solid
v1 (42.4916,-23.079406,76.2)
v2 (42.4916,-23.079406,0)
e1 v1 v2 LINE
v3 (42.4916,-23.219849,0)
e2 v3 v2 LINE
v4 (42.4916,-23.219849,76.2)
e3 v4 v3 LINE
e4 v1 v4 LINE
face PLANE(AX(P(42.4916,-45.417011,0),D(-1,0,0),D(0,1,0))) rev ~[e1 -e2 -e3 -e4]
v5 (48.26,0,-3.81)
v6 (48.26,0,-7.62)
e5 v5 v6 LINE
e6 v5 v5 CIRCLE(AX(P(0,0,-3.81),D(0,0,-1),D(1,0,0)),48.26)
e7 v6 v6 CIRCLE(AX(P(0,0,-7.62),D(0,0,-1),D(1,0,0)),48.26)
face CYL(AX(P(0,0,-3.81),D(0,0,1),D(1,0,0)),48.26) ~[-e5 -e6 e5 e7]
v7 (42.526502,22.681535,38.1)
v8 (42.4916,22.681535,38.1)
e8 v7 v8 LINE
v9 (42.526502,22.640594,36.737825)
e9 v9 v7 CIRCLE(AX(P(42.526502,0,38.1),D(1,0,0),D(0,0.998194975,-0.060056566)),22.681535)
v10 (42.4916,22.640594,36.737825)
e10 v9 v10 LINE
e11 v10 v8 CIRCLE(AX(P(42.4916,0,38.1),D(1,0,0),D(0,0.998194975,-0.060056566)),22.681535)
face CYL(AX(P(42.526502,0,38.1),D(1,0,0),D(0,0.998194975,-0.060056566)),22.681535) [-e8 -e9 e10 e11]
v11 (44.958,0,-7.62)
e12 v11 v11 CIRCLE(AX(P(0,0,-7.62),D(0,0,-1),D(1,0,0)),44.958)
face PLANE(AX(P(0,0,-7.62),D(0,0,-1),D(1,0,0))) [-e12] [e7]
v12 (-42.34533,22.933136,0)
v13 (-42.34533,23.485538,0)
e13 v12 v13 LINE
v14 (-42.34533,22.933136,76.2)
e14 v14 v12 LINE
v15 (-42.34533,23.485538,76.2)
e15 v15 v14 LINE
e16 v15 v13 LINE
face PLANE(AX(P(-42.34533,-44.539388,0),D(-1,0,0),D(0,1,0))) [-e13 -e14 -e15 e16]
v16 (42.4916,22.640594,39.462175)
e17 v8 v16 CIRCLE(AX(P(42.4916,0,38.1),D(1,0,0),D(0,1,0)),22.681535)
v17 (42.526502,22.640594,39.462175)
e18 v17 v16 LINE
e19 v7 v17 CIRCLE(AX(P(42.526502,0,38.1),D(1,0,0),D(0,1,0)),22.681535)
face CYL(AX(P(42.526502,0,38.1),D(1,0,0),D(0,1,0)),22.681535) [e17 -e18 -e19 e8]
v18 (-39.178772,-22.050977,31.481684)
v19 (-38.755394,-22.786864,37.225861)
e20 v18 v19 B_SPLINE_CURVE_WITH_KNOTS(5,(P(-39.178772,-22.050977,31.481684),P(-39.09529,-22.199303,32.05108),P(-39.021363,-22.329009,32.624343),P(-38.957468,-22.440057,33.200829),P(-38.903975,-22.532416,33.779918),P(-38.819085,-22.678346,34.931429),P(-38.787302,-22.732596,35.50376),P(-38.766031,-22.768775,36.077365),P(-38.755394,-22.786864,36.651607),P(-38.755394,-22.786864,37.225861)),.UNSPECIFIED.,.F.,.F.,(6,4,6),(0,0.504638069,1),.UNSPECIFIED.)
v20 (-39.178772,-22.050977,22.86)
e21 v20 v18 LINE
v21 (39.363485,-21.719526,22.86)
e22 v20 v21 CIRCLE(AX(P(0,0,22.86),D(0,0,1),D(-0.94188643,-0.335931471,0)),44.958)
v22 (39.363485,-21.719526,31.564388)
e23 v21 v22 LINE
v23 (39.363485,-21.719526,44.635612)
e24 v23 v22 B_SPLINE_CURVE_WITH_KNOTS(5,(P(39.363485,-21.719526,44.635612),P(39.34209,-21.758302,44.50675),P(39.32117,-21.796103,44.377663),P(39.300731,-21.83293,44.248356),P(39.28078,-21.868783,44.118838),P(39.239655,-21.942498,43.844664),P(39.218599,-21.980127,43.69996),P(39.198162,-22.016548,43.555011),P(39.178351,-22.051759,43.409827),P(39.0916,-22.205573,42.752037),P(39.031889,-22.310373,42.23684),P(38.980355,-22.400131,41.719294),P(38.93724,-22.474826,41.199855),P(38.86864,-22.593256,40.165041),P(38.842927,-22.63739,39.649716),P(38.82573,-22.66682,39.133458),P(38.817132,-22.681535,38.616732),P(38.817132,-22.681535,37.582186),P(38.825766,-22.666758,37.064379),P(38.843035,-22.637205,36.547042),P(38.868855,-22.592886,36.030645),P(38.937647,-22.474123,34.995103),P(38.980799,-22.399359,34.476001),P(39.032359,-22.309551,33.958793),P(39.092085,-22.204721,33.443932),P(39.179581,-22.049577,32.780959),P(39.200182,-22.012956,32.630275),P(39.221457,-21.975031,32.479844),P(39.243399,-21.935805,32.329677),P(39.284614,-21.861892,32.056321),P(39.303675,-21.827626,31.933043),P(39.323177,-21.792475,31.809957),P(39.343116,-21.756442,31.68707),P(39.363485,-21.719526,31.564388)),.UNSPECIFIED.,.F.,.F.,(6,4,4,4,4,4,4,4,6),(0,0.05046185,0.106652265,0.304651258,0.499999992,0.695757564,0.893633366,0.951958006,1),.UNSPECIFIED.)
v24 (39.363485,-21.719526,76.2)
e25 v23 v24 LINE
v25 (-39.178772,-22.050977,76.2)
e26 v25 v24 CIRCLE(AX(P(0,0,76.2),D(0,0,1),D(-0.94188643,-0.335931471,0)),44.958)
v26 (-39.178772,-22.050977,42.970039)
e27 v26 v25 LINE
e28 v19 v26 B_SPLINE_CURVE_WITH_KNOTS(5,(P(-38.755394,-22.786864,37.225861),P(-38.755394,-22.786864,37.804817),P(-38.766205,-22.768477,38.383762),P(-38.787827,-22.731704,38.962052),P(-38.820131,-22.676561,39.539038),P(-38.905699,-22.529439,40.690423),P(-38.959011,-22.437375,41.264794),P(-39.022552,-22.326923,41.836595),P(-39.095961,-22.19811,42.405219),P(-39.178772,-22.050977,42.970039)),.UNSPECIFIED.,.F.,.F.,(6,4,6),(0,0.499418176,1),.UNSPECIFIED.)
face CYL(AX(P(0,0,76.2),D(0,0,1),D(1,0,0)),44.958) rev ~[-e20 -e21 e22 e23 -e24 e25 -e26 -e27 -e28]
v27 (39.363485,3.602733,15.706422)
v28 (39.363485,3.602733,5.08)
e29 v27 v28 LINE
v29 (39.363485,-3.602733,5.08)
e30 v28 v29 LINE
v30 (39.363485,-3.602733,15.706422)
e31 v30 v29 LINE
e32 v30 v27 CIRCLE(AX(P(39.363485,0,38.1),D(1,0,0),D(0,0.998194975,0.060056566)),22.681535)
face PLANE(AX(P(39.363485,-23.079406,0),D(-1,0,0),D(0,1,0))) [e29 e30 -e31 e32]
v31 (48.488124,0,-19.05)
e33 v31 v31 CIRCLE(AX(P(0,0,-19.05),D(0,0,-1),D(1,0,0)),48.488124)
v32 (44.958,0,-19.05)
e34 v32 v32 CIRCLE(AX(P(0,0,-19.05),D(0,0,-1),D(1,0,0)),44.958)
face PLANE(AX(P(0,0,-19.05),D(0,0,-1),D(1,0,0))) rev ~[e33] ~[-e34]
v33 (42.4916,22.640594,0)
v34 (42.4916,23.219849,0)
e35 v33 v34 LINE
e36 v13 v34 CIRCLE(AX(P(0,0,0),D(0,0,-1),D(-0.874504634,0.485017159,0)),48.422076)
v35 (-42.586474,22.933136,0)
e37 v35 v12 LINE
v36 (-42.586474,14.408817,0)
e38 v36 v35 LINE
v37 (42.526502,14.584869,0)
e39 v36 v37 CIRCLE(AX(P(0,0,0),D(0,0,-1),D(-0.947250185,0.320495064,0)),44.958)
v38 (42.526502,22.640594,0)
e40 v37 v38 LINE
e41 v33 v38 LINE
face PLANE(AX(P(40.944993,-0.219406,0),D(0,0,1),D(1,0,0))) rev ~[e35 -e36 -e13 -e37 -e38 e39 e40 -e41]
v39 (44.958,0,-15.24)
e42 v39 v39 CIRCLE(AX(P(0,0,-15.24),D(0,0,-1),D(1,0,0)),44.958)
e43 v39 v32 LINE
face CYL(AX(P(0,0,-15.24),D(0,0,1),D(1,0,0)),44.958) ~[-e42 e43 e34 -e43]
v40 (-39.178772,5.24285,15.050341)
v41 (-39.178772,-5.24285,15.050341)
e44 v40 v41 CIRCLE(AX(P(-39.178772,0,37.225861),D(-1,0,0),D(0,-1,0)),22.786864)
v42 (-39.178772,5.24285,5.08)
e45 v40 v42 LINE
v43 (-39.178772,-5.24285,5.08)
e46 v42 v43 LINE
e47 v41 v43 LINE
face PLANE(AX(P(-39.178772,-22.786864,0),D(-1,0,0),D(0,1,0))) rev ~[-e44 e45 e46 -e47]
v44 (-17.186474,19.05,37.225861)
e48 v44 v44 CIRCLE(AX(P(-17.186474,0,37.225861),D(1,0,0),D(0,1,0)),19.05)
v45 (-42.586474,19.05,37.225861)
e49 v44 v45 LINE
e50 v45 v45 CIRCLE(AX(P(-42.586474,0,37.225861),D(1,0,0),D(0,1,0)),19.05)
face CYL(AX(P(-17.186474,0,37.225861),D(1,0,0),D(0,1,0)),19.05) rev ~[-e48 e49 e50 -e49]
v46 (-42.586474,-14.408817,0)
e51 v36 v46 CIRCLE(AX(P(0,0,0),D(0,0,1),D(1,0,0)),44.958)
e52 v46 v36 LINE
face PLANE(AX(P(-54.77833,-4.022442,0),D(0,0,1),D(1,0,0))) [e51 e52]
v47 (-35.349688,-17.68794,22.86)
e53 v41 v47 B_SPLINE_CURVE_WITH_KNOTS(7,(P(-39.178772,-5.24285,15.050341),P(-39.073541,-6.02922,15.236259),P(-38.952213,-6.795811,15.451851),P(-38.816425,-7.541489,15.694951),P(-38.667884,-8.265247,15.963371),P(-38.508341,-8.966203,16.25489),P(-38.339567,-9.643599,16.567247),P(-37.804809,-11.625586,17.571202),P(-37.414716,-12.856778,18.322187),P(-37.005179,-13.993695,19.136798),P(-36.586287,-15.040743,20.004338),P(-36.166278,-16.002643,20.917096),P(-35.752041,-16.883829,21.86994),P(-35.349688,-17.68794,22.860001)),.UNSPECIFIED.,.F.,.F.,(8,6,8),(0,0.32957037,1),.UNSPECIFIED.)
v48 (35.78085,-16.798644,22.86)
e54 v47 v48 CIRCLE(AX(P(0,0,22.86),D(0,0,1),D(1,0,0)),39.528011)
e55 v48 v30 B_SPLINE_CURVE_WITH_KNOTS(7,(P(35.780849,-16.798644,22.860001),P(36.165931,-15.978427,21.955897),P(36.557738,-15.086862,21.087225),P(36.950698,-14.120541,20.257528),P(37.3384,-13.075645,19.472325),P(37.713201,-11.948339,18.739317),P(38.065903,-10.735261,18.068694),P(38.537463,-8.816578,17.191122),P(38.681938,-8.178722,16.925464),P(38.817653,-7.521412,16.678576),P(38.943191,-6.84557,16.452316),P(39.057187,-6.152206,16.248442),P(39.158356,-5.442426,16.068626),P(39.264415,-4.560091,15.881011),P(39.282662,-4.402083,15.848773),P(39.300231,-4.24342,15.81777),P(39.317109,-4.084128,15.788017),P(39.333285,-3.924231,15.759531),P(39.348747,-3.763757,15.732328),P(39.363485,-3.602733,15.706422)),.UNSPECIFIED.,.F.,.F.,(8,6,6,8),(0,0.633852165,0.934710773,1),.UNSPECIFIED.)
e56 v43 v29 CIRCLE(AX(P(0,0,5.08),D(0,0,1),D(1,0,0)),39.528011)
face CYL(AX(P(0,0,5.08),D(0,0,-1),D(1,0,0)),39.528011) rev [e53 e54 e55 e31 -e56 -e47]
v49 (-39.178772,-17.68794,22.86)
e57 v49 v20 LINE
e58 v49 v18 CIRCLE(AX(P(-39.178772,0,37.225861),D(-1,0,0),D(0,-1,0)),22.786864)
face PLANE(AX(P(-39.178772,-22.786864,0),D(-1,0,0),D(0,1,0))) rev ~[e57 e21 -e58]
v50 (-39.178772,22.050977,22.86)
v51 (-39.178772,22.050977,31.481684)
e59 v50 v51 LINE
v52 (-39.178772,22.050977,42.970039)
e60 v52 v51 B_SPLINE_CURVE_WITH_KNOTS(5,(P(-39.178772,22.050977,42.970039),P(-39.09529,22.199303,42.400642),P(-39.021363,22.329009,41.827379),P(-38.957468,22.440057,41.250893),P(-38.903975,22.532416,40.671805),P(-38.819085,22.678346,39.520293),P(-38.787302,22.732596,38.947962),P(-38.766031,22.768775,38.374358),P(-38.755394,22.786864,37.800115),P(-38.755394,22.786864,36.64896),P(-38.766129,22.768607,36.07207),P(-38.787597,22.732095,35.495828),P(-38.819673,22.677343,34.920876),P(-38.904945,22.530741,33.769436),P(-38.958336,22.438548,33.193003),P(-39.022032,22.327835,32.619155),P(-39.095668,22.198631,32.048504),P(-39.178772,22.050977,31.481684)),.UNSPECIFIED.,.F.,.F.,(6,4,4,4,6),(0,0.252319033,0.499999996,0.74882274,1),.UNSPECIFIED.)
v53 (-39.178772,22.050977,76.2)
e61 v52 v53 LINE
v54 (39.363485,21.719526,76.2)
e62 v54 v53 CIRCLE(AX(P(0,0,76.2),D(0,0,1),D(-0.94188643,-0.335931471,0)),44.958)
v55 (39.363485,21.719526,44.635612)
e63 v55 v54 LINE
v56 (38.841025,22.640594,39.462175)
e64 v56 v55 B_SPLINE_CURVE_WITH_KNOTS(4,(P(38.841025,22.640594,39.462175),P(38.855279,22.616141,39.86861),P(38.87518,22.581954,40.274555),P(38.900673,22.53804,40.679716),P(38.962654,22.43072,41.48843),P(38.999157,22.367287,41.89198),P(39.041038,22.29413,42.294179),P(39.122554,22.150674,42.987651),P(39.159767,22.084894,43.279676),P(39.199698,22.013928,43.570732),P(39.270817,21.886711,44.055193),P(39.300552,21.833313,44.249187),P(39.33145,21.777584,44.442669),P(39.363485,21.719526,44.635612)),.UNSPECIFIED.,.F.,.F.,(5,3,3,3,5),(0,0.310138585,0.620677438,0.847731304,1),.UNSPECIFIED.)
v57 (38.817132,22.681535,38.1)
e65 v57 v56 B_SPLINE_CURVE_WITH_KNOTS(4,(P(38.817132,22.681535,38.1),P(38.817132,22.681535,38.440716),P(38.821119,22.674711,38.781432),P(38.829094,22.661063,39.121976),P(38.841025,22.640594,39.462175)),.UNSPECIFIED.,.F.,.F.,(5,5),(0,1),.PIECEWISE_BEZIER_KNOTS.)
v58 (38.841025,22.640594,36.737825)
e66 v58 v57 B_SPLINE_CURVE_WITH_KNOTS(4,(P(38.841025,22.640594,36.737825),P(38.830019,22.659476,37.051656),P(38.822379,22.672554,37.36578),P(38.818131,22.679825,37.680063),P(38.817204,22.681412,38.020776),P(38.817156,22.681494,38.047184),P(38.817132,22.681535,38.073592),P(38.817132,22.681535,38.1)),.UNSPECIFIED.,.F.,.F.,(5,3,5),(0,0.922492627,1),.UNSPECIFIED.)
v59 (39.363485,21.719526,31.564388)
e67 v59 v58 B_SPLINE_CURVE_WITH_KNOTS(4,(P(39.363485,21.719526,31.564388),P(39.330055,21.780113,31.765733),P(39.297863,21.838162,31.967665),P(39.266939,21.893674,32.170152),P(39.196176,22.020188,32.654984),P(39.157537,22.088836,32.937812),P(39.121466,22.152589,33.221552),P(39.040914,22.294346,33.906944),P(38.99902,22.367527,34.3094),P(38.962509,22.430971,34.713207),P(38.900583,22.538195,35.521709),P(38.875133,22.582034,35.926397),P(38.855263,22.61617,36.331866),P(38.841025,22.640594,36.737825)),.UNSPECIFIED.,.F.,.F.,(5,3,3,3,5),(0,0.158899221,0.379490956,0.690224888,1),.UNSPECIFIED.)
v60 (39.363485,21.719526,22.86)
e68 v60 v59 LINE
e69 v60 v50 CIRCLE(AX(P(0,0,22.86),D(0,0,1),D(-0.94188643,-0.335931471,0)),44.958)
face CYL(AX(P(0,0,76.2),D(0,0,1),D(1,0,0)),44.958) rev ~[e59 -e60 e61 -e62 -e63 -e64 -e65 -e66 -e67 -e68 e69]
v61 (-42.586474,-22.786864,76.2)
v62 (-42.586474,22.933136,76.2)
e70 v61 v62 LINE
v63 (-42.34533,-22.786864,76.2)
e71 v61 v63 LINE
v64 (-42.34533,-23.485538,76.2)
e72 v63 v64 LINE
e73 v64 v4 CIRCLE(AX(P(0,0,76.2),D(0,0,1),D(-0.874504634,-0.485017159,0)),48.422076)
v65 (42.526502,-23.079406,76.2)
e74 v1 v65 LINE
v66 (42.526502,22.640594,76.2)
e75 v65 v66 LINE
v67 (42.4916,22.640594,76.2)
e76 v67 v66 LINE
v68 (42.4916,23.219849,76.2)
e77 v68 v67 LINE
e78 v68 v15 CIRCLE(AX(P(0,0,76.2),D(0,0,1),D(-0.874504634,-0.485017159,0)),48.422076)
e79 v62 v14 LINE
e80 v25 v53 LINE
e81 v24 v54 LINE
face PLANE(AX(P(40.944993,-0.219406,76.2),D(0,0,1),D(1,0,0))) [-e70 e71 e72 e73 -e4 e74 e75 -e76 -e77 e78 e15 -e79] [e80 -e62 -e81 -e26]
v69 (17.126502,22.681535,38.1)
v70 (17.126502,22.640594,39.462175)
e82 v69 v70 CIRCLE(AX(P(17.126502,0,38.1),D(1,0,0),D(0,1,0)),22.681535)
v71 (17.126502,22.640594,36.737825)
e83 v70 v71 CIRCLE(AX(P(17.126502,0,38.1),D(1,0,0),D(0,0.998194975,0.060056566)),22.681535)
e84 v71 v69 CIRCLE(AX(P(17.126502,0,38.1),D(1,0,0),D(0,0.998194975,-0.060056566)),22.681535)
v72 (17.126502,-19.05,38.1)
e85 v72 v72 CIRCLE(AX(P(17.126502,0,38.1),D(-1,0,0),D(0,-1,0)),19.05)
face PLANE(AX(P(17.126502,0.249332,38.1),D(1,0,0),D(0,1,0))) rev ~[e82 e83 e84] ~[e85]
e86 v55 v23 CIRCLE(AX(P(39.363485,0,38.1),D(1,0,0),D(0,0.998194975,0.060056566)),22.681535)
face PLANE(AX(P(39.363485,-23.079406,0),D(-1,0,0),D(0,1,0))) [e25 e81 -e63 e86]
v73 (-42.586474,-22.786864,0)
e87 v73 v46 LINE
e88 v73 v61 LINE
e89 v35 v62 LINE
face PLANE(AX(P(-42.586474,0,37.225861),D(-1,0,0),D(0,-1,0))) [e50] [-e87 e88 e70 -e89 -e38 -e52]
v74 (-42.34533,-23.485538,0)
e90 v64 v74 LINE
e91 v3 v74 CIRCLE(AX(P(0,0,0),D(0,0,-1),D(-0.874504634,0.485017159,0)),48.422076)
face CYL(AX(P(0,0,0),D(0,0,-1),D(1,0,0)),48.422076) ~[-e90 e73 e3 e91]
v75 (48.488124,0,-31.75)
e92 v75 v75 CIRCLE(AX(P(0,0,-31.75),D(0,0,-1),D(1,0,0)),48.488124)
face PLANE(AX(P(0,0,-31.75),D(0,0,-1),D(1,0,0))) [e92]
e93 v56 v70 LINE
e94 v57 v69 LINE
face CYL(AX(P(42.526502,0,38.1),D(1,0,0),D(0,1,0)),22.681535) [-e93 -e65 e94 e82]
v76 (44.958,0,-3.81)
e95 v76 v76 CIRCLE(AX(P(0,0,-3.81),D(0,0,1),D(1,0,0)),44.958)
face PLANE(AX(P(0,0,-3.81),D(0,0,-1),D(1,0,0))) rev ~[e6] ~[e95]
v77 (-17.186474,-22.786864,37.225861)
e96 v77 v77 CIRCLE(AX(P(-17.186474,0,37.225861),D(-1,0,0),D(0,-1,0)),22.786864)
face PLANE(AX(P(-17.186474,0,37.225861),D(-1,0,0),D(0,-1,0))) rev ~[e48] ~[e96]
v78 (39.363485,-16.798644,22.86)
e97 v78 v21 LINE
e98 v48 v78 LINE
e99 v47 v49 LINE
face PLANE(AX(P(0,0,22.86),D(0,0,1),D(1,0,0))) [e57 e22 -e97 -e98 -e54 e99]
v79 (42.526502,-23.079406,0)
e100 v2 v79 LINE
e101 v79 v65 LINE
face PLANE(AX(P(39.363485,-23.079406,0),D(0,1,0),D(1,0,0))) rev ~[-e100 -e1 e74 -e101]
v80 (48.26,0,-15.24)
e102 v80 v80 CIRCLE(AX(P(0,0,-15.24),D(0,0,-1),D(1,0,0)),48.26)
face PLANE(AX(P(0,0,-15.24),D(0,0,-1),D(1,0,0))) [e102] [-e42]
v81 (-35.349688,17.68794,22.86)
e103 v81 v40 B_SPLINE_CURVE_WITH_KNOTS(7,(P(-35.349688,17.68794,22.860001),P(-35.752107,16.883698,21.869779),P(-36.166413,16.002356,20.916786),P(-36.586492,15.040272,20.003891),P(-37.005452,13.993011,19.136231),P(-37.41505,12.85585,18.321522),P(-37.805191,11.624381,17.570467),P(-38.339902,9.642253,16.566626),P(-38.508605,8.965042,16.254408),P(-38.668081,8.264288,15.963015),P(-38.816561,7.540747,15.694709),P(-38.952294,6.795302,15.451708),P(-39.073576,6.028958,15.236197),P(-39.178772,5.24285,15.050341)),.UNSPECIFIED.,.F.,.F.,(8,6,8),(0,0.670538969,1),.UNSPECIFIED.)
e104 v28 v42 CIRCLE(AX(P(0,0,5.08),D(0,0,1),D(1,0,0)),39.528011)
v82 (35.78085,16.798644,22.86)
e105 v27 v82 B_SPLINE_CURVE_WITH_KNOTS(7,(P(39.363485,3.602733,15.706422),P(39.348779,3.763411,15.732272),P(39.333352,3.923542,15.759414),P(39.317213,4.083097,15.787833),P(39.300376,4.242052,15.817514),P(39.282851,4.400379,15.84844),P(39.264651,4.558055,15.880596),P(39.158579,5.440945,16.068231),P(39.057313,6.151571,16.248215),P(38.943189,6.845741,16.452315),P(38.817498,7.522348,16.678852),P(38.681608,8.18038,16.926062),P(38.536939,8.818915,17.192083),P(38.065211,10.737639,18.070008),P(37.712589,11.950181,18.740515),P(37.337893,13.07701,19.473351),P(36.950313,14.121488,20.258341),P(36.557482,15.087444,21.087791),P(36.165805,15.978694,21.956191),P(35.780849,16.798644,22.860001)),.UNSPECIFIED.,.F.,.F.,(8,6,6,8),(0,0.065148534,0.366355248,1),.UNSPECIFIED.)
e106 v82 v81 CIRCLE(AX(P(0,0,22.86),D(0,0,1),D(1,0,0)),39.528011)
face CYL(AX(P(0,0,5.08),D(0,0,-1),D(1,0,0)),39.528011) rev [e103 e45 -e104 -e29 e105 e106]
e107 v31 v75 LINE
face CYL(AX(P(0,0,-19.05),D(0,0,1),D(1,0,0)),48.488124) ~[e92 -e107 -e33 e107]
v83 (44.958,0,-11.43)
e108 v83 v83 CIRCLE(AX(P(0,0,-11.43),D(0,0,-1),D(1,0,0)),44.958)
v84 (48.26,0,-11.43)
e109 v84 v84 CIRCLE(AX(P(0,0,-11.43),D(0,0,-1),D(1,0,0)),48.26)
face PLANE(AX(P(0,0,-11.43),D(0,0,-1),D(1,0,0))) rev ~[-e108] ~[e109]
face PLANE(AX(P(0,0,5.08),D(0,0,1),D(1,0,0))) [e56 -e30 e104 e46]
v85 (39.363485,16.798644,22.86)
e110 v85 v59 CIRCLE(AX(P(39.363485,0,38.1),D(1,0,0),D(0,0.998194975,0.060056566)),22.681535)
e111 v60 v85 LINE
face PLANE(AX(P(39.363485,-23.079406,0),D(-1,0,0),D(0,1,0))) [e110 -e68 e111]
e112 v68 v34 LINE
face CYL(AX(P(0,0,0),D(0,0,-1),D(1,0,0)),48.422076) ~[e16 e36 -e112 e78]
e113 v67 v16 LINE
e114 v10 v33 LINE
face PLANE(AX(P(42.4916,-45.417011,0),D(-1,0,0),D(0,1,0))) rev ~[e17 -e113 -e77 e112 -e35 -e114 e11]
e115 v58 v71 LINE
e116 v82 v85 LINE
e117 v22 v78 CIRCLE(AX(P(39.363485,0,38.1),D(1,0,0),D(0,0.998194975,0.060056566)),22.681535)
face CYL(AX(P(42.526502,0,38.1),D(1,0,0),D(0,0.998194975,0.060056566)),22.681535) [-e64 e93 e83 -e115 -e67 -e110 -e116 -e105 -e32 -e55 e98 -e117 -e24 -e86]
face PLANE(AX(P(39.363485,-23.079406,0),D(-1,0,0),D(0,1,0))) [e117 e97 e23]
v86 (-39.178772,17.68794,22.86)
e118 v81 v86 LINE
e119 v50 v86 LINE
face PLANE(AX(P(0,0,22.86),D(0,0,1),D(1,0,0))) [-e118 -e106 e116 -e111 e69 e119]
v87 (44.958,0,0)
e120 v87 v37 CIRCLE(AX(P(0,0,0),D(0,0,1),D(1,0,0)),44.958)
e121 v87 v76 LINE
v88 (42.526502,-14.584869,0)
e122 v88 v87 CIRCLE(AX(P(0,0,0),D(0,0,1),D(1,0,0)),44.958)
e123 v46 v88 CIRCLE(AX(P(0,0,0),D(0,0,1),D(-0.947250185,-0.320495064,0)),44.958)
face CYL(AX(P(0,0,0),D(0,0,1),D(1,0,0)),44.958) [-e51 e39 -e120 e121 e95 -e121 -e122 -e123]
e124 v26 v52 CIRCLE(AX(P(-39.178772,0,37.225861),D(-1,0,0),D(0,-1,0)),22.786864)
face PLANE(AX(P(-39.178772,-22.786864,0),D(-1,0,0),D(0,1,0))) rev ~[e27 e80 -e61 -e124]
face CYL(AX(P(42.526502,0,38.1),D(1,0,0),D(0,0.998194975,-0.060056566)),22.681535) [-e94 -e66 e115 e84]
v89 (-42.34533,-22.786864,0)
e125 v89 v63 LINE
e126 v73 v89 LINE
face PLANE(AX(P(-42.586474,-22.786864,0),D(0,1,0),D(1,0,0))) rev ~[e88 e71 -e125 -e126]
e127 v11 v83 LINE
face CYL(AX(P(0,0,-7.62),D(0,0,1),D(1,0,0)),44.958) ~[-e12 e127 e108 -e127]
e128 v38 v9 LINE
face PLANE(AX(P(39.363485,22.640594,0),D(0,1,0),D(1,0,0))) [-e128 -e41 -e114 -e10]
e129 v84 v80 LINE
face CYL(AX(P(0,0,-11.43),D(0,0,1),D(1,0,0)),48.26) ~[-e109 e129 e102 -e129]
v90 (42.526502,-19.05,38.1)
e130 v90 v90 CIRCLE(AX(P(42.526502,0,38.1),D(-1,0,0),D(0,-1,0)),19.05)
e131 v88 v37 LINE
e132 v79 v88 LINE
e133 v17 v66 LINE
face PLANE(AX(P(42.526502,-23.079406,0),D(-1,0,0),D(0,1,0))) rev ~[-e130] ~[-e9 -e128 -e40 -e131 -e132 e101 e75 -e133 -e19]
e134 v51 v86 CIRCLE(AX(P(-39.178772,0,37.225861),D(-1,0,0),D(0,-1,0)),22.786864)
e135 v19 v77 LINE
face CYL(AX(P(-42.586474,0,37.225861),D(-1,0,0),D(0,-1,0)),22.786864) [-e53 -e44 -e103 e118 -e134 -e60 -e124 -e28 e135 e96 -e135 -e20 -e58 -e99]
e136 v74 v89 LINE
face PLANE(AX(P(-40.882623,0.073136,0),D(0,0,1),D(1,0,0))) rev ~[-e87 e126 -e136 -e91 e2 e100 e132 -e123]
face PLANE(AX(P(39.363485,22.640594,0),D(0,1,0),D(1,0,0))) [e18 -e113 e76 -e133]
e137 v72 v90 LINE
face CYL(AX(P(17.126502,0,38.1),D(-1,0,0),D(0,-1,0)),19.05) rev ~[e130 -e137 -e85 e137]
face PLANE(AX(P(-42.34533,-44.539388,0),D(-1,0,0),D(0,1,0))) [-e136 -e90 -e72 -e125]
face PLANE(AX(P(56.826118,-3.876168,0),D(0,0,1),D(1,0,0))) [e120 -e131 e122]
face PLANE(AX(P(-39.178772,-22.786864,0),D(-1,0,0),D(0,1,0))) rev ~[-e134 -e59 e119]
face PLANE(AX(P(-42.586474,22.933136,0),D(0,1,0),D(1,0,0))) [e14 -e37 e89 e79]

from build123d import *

# Parameters (mm, degrees)
F0_R      = 48.4220762832
F1_DEPTH  = 76.2
F2_R      = 44.958
F3_DEPTH  = 71.12
F4_R      = 44.958
F5_DEPTH  = 3.81
F6_R      = 48.26
F7_DEPTH  = 3.81
F8_R      = 44.958
F9_DEPTH  = 3.81
F10_R     = 48.26
F11_DEPTH = 3.81
F12_R     = 44.958
F13_DEPTH = 3.81
F14_R     = 48.4881238819
F15_DEPTH = 12.7
F16_R     = 44.958
F16_R_2   = 39.5280108498
F17_DEPTH = 17.78
F18_W     = 24.8659998178
F18_H     = 81.0338929296
F19_DEPTH = 76.201
F20_W     = 28.6690369248
F20_H     = 83.0816850066
F21_DEPTH = 76.201
F22_W     = 3.4077020206
F22_H     = 45.72
F23_DEPTH = 76.2
F24_W     = 3.1630169219
F24_H     = 45.72
F25_DEPTH = 76.2
F26_R     = 22.7868641695
F27_DEPTH = 25.4
F28_R     = 19.05
F29_DEPTH = 25.4
F31_DEPTH = 25.4
F32_R     = 19.05
F33_DEPTH = 25.4


with BuildPart() as f1:
    # F0 (on Top) → F1 (new body)
    with BuildSketch(Plane.XY):
        Circle(F0_R)
    extrude(amount=F1_DEPTH)

    # F2 (on face) → F3 (cut)
    with BuildSketch(Plane.XY.offset(76.2)):
        Circle(F2_R)
    extrude(amount=-F3_DEPTH, mode=Mode.SUBTRACT)

    # F4 (on Top) → F5 (join)
    with BuildSketch(Plane.XY):
        Circle(F4_R)
    extrude(amount=-F5_DEPTH)

    # F6 (on face) → F7 (join)
    with BuildSketch(Plane(origin=(0, 0, -3.81), x_dir=(1, 0, 0), z_dir=(0, 0, -1))):
        Circle(F6_R)
    extrude(amount=F7_DEPTH)

    # F8 (on face) → F9 (join)
    with BuildSketch(Plane(origin=(0, 0, -7.62), x_dir=(1, 0, 0), z_dir=(0, 0, -1))):
        Circle(F8_R)
    extrude(amount=F9_DEPTH)

    # F10 (on face) → F11 (join)
    with BuildSketch(Plane(origin=(0, 0, -11.43), x_dir=(1, 0, 0), z_dir=(0, 0, -1))):
        Circle(F10_R)
    extrude(amount=F11_DEPTH)

    # F12 (on face) → F13 (join)
    with BuildSketch(Plane(origin=(0, 0, -15.24), x_dir=(1, 0, 0), z_dir=(0, 0, -1))):
        Circle(F12_R)
    extrude(amount=F13_DEPTH)

    # F14 (on face) → F15 (join)
    with BuildSketch(Plane(origin=(0, 0, -19.05), x_dir=(1, 0, 0), z_dir=(0, 0, -1))):
        Circle(F14_R)
    extrude(amount=F15_DEPTH)

    # F16 (on face) → F17 (join)
    with BuildSketch(Plane.XY.offset(5.08)):
        Circle(F16_R)
        Circle(F16_R_2, mode=Mode.SUBTRACT)
    extrude(amount=F17_DEPTH)

    # F18 (on Top) → F19 (cut, through all)
    with BuildSketch(Plane.XY):
        with Locations((-54.7783300281, -4.0224418044)):
            Rectangle(F18_W, F18_H)
    extrude(amount=F19_DEPTH, mode=Mode.SUBTRACT)

    # F20 (on Top) → F21 (cut, through all)
    with BuildSketch(Plane.XY):
        with Locations((56.8261183798, -3.8761682808)):
            Rectangle(F20_W, F20_H)
    extrude(amount=F21_DEPTH, mode=Mode.SUBTRACT)

    # F22 (on Top) → F23 (join)
    with BuildSketch(Plane.XY):
        with Locations((-40.8826228231, 0.0731358305)):
            Rectangle(F22_W, F22_H)
    extrude(amount=F23_DEPTH)

    # F24 (on Top) → F25 (join)
    with BuildSketch(Plane.XY):
        with Locations((40.9449934959, -0.2194056287)):
            Rectangle(F24_W, F24_H)
    extrude(amount=F25_DEPTH)

    # F26 (on face) → F27 (join)
    with BuildSketch(Plane(origin=(-42.5864738334, 0, 0), x_dir=(0, -1, 0), z_dir=(-1, 0, 0))):
        with Locations((0, 37.2258611023)):
            Circle(F26_R)
    extrude(amount=-F27_DEPTH)

    # F28 (on face) → F29 (cut)
    with BuildSketch(Plane.YZ.offset(-17.1864738334)):
        with Locations((0, 37.2258611023)):
            Circle(F28_R)
    extrude(amount=-F29_DEPTH, mode=Mode.SUBTRACT)

    # F30 (on face) → F31 (join)
    with BuildSketch(Plane.YZ.offset(42.5265019569)):
        with BuildLine():
            Line((22.6405943713, 36.7378248993), (22.6405943713, 39.4621751007))
            ThreePointArc((22.6405943713, 39.4621751007), (-22.6815350999, 38.1), (22.6405943713, 36.7378248993))
        make_face()
        with BuildLine():
            ThreePointArc((22.6405943713, 36.7378248993), (22.6712976074, 37.4186048965), (22.6815350999, 38.1))
            ThreePointArc((22.6815350999, 38.1), (22.6712976074, 38.7813951035), (22.6405943713, 39.4621751007))
            Line((22.6405943713, 39.4621751007), (22.6405943713, 36.7378248993))
        make_face()
    extrude(amount=-F31_DEPTH)

    # F32 (on face) → F33 (cut)
    with BuildSketch(Plane(origin=(17.1265019569, 0, 0), x_dir=(0, -1, 0), z_dir=(-1, 0, 0))):
        with Locations((0, 38.1)):
            Circle(F32_R)
    extrude(amount=-F33_DEPTH, mode=Mode.SUBTRACT)


solid = f1.part
